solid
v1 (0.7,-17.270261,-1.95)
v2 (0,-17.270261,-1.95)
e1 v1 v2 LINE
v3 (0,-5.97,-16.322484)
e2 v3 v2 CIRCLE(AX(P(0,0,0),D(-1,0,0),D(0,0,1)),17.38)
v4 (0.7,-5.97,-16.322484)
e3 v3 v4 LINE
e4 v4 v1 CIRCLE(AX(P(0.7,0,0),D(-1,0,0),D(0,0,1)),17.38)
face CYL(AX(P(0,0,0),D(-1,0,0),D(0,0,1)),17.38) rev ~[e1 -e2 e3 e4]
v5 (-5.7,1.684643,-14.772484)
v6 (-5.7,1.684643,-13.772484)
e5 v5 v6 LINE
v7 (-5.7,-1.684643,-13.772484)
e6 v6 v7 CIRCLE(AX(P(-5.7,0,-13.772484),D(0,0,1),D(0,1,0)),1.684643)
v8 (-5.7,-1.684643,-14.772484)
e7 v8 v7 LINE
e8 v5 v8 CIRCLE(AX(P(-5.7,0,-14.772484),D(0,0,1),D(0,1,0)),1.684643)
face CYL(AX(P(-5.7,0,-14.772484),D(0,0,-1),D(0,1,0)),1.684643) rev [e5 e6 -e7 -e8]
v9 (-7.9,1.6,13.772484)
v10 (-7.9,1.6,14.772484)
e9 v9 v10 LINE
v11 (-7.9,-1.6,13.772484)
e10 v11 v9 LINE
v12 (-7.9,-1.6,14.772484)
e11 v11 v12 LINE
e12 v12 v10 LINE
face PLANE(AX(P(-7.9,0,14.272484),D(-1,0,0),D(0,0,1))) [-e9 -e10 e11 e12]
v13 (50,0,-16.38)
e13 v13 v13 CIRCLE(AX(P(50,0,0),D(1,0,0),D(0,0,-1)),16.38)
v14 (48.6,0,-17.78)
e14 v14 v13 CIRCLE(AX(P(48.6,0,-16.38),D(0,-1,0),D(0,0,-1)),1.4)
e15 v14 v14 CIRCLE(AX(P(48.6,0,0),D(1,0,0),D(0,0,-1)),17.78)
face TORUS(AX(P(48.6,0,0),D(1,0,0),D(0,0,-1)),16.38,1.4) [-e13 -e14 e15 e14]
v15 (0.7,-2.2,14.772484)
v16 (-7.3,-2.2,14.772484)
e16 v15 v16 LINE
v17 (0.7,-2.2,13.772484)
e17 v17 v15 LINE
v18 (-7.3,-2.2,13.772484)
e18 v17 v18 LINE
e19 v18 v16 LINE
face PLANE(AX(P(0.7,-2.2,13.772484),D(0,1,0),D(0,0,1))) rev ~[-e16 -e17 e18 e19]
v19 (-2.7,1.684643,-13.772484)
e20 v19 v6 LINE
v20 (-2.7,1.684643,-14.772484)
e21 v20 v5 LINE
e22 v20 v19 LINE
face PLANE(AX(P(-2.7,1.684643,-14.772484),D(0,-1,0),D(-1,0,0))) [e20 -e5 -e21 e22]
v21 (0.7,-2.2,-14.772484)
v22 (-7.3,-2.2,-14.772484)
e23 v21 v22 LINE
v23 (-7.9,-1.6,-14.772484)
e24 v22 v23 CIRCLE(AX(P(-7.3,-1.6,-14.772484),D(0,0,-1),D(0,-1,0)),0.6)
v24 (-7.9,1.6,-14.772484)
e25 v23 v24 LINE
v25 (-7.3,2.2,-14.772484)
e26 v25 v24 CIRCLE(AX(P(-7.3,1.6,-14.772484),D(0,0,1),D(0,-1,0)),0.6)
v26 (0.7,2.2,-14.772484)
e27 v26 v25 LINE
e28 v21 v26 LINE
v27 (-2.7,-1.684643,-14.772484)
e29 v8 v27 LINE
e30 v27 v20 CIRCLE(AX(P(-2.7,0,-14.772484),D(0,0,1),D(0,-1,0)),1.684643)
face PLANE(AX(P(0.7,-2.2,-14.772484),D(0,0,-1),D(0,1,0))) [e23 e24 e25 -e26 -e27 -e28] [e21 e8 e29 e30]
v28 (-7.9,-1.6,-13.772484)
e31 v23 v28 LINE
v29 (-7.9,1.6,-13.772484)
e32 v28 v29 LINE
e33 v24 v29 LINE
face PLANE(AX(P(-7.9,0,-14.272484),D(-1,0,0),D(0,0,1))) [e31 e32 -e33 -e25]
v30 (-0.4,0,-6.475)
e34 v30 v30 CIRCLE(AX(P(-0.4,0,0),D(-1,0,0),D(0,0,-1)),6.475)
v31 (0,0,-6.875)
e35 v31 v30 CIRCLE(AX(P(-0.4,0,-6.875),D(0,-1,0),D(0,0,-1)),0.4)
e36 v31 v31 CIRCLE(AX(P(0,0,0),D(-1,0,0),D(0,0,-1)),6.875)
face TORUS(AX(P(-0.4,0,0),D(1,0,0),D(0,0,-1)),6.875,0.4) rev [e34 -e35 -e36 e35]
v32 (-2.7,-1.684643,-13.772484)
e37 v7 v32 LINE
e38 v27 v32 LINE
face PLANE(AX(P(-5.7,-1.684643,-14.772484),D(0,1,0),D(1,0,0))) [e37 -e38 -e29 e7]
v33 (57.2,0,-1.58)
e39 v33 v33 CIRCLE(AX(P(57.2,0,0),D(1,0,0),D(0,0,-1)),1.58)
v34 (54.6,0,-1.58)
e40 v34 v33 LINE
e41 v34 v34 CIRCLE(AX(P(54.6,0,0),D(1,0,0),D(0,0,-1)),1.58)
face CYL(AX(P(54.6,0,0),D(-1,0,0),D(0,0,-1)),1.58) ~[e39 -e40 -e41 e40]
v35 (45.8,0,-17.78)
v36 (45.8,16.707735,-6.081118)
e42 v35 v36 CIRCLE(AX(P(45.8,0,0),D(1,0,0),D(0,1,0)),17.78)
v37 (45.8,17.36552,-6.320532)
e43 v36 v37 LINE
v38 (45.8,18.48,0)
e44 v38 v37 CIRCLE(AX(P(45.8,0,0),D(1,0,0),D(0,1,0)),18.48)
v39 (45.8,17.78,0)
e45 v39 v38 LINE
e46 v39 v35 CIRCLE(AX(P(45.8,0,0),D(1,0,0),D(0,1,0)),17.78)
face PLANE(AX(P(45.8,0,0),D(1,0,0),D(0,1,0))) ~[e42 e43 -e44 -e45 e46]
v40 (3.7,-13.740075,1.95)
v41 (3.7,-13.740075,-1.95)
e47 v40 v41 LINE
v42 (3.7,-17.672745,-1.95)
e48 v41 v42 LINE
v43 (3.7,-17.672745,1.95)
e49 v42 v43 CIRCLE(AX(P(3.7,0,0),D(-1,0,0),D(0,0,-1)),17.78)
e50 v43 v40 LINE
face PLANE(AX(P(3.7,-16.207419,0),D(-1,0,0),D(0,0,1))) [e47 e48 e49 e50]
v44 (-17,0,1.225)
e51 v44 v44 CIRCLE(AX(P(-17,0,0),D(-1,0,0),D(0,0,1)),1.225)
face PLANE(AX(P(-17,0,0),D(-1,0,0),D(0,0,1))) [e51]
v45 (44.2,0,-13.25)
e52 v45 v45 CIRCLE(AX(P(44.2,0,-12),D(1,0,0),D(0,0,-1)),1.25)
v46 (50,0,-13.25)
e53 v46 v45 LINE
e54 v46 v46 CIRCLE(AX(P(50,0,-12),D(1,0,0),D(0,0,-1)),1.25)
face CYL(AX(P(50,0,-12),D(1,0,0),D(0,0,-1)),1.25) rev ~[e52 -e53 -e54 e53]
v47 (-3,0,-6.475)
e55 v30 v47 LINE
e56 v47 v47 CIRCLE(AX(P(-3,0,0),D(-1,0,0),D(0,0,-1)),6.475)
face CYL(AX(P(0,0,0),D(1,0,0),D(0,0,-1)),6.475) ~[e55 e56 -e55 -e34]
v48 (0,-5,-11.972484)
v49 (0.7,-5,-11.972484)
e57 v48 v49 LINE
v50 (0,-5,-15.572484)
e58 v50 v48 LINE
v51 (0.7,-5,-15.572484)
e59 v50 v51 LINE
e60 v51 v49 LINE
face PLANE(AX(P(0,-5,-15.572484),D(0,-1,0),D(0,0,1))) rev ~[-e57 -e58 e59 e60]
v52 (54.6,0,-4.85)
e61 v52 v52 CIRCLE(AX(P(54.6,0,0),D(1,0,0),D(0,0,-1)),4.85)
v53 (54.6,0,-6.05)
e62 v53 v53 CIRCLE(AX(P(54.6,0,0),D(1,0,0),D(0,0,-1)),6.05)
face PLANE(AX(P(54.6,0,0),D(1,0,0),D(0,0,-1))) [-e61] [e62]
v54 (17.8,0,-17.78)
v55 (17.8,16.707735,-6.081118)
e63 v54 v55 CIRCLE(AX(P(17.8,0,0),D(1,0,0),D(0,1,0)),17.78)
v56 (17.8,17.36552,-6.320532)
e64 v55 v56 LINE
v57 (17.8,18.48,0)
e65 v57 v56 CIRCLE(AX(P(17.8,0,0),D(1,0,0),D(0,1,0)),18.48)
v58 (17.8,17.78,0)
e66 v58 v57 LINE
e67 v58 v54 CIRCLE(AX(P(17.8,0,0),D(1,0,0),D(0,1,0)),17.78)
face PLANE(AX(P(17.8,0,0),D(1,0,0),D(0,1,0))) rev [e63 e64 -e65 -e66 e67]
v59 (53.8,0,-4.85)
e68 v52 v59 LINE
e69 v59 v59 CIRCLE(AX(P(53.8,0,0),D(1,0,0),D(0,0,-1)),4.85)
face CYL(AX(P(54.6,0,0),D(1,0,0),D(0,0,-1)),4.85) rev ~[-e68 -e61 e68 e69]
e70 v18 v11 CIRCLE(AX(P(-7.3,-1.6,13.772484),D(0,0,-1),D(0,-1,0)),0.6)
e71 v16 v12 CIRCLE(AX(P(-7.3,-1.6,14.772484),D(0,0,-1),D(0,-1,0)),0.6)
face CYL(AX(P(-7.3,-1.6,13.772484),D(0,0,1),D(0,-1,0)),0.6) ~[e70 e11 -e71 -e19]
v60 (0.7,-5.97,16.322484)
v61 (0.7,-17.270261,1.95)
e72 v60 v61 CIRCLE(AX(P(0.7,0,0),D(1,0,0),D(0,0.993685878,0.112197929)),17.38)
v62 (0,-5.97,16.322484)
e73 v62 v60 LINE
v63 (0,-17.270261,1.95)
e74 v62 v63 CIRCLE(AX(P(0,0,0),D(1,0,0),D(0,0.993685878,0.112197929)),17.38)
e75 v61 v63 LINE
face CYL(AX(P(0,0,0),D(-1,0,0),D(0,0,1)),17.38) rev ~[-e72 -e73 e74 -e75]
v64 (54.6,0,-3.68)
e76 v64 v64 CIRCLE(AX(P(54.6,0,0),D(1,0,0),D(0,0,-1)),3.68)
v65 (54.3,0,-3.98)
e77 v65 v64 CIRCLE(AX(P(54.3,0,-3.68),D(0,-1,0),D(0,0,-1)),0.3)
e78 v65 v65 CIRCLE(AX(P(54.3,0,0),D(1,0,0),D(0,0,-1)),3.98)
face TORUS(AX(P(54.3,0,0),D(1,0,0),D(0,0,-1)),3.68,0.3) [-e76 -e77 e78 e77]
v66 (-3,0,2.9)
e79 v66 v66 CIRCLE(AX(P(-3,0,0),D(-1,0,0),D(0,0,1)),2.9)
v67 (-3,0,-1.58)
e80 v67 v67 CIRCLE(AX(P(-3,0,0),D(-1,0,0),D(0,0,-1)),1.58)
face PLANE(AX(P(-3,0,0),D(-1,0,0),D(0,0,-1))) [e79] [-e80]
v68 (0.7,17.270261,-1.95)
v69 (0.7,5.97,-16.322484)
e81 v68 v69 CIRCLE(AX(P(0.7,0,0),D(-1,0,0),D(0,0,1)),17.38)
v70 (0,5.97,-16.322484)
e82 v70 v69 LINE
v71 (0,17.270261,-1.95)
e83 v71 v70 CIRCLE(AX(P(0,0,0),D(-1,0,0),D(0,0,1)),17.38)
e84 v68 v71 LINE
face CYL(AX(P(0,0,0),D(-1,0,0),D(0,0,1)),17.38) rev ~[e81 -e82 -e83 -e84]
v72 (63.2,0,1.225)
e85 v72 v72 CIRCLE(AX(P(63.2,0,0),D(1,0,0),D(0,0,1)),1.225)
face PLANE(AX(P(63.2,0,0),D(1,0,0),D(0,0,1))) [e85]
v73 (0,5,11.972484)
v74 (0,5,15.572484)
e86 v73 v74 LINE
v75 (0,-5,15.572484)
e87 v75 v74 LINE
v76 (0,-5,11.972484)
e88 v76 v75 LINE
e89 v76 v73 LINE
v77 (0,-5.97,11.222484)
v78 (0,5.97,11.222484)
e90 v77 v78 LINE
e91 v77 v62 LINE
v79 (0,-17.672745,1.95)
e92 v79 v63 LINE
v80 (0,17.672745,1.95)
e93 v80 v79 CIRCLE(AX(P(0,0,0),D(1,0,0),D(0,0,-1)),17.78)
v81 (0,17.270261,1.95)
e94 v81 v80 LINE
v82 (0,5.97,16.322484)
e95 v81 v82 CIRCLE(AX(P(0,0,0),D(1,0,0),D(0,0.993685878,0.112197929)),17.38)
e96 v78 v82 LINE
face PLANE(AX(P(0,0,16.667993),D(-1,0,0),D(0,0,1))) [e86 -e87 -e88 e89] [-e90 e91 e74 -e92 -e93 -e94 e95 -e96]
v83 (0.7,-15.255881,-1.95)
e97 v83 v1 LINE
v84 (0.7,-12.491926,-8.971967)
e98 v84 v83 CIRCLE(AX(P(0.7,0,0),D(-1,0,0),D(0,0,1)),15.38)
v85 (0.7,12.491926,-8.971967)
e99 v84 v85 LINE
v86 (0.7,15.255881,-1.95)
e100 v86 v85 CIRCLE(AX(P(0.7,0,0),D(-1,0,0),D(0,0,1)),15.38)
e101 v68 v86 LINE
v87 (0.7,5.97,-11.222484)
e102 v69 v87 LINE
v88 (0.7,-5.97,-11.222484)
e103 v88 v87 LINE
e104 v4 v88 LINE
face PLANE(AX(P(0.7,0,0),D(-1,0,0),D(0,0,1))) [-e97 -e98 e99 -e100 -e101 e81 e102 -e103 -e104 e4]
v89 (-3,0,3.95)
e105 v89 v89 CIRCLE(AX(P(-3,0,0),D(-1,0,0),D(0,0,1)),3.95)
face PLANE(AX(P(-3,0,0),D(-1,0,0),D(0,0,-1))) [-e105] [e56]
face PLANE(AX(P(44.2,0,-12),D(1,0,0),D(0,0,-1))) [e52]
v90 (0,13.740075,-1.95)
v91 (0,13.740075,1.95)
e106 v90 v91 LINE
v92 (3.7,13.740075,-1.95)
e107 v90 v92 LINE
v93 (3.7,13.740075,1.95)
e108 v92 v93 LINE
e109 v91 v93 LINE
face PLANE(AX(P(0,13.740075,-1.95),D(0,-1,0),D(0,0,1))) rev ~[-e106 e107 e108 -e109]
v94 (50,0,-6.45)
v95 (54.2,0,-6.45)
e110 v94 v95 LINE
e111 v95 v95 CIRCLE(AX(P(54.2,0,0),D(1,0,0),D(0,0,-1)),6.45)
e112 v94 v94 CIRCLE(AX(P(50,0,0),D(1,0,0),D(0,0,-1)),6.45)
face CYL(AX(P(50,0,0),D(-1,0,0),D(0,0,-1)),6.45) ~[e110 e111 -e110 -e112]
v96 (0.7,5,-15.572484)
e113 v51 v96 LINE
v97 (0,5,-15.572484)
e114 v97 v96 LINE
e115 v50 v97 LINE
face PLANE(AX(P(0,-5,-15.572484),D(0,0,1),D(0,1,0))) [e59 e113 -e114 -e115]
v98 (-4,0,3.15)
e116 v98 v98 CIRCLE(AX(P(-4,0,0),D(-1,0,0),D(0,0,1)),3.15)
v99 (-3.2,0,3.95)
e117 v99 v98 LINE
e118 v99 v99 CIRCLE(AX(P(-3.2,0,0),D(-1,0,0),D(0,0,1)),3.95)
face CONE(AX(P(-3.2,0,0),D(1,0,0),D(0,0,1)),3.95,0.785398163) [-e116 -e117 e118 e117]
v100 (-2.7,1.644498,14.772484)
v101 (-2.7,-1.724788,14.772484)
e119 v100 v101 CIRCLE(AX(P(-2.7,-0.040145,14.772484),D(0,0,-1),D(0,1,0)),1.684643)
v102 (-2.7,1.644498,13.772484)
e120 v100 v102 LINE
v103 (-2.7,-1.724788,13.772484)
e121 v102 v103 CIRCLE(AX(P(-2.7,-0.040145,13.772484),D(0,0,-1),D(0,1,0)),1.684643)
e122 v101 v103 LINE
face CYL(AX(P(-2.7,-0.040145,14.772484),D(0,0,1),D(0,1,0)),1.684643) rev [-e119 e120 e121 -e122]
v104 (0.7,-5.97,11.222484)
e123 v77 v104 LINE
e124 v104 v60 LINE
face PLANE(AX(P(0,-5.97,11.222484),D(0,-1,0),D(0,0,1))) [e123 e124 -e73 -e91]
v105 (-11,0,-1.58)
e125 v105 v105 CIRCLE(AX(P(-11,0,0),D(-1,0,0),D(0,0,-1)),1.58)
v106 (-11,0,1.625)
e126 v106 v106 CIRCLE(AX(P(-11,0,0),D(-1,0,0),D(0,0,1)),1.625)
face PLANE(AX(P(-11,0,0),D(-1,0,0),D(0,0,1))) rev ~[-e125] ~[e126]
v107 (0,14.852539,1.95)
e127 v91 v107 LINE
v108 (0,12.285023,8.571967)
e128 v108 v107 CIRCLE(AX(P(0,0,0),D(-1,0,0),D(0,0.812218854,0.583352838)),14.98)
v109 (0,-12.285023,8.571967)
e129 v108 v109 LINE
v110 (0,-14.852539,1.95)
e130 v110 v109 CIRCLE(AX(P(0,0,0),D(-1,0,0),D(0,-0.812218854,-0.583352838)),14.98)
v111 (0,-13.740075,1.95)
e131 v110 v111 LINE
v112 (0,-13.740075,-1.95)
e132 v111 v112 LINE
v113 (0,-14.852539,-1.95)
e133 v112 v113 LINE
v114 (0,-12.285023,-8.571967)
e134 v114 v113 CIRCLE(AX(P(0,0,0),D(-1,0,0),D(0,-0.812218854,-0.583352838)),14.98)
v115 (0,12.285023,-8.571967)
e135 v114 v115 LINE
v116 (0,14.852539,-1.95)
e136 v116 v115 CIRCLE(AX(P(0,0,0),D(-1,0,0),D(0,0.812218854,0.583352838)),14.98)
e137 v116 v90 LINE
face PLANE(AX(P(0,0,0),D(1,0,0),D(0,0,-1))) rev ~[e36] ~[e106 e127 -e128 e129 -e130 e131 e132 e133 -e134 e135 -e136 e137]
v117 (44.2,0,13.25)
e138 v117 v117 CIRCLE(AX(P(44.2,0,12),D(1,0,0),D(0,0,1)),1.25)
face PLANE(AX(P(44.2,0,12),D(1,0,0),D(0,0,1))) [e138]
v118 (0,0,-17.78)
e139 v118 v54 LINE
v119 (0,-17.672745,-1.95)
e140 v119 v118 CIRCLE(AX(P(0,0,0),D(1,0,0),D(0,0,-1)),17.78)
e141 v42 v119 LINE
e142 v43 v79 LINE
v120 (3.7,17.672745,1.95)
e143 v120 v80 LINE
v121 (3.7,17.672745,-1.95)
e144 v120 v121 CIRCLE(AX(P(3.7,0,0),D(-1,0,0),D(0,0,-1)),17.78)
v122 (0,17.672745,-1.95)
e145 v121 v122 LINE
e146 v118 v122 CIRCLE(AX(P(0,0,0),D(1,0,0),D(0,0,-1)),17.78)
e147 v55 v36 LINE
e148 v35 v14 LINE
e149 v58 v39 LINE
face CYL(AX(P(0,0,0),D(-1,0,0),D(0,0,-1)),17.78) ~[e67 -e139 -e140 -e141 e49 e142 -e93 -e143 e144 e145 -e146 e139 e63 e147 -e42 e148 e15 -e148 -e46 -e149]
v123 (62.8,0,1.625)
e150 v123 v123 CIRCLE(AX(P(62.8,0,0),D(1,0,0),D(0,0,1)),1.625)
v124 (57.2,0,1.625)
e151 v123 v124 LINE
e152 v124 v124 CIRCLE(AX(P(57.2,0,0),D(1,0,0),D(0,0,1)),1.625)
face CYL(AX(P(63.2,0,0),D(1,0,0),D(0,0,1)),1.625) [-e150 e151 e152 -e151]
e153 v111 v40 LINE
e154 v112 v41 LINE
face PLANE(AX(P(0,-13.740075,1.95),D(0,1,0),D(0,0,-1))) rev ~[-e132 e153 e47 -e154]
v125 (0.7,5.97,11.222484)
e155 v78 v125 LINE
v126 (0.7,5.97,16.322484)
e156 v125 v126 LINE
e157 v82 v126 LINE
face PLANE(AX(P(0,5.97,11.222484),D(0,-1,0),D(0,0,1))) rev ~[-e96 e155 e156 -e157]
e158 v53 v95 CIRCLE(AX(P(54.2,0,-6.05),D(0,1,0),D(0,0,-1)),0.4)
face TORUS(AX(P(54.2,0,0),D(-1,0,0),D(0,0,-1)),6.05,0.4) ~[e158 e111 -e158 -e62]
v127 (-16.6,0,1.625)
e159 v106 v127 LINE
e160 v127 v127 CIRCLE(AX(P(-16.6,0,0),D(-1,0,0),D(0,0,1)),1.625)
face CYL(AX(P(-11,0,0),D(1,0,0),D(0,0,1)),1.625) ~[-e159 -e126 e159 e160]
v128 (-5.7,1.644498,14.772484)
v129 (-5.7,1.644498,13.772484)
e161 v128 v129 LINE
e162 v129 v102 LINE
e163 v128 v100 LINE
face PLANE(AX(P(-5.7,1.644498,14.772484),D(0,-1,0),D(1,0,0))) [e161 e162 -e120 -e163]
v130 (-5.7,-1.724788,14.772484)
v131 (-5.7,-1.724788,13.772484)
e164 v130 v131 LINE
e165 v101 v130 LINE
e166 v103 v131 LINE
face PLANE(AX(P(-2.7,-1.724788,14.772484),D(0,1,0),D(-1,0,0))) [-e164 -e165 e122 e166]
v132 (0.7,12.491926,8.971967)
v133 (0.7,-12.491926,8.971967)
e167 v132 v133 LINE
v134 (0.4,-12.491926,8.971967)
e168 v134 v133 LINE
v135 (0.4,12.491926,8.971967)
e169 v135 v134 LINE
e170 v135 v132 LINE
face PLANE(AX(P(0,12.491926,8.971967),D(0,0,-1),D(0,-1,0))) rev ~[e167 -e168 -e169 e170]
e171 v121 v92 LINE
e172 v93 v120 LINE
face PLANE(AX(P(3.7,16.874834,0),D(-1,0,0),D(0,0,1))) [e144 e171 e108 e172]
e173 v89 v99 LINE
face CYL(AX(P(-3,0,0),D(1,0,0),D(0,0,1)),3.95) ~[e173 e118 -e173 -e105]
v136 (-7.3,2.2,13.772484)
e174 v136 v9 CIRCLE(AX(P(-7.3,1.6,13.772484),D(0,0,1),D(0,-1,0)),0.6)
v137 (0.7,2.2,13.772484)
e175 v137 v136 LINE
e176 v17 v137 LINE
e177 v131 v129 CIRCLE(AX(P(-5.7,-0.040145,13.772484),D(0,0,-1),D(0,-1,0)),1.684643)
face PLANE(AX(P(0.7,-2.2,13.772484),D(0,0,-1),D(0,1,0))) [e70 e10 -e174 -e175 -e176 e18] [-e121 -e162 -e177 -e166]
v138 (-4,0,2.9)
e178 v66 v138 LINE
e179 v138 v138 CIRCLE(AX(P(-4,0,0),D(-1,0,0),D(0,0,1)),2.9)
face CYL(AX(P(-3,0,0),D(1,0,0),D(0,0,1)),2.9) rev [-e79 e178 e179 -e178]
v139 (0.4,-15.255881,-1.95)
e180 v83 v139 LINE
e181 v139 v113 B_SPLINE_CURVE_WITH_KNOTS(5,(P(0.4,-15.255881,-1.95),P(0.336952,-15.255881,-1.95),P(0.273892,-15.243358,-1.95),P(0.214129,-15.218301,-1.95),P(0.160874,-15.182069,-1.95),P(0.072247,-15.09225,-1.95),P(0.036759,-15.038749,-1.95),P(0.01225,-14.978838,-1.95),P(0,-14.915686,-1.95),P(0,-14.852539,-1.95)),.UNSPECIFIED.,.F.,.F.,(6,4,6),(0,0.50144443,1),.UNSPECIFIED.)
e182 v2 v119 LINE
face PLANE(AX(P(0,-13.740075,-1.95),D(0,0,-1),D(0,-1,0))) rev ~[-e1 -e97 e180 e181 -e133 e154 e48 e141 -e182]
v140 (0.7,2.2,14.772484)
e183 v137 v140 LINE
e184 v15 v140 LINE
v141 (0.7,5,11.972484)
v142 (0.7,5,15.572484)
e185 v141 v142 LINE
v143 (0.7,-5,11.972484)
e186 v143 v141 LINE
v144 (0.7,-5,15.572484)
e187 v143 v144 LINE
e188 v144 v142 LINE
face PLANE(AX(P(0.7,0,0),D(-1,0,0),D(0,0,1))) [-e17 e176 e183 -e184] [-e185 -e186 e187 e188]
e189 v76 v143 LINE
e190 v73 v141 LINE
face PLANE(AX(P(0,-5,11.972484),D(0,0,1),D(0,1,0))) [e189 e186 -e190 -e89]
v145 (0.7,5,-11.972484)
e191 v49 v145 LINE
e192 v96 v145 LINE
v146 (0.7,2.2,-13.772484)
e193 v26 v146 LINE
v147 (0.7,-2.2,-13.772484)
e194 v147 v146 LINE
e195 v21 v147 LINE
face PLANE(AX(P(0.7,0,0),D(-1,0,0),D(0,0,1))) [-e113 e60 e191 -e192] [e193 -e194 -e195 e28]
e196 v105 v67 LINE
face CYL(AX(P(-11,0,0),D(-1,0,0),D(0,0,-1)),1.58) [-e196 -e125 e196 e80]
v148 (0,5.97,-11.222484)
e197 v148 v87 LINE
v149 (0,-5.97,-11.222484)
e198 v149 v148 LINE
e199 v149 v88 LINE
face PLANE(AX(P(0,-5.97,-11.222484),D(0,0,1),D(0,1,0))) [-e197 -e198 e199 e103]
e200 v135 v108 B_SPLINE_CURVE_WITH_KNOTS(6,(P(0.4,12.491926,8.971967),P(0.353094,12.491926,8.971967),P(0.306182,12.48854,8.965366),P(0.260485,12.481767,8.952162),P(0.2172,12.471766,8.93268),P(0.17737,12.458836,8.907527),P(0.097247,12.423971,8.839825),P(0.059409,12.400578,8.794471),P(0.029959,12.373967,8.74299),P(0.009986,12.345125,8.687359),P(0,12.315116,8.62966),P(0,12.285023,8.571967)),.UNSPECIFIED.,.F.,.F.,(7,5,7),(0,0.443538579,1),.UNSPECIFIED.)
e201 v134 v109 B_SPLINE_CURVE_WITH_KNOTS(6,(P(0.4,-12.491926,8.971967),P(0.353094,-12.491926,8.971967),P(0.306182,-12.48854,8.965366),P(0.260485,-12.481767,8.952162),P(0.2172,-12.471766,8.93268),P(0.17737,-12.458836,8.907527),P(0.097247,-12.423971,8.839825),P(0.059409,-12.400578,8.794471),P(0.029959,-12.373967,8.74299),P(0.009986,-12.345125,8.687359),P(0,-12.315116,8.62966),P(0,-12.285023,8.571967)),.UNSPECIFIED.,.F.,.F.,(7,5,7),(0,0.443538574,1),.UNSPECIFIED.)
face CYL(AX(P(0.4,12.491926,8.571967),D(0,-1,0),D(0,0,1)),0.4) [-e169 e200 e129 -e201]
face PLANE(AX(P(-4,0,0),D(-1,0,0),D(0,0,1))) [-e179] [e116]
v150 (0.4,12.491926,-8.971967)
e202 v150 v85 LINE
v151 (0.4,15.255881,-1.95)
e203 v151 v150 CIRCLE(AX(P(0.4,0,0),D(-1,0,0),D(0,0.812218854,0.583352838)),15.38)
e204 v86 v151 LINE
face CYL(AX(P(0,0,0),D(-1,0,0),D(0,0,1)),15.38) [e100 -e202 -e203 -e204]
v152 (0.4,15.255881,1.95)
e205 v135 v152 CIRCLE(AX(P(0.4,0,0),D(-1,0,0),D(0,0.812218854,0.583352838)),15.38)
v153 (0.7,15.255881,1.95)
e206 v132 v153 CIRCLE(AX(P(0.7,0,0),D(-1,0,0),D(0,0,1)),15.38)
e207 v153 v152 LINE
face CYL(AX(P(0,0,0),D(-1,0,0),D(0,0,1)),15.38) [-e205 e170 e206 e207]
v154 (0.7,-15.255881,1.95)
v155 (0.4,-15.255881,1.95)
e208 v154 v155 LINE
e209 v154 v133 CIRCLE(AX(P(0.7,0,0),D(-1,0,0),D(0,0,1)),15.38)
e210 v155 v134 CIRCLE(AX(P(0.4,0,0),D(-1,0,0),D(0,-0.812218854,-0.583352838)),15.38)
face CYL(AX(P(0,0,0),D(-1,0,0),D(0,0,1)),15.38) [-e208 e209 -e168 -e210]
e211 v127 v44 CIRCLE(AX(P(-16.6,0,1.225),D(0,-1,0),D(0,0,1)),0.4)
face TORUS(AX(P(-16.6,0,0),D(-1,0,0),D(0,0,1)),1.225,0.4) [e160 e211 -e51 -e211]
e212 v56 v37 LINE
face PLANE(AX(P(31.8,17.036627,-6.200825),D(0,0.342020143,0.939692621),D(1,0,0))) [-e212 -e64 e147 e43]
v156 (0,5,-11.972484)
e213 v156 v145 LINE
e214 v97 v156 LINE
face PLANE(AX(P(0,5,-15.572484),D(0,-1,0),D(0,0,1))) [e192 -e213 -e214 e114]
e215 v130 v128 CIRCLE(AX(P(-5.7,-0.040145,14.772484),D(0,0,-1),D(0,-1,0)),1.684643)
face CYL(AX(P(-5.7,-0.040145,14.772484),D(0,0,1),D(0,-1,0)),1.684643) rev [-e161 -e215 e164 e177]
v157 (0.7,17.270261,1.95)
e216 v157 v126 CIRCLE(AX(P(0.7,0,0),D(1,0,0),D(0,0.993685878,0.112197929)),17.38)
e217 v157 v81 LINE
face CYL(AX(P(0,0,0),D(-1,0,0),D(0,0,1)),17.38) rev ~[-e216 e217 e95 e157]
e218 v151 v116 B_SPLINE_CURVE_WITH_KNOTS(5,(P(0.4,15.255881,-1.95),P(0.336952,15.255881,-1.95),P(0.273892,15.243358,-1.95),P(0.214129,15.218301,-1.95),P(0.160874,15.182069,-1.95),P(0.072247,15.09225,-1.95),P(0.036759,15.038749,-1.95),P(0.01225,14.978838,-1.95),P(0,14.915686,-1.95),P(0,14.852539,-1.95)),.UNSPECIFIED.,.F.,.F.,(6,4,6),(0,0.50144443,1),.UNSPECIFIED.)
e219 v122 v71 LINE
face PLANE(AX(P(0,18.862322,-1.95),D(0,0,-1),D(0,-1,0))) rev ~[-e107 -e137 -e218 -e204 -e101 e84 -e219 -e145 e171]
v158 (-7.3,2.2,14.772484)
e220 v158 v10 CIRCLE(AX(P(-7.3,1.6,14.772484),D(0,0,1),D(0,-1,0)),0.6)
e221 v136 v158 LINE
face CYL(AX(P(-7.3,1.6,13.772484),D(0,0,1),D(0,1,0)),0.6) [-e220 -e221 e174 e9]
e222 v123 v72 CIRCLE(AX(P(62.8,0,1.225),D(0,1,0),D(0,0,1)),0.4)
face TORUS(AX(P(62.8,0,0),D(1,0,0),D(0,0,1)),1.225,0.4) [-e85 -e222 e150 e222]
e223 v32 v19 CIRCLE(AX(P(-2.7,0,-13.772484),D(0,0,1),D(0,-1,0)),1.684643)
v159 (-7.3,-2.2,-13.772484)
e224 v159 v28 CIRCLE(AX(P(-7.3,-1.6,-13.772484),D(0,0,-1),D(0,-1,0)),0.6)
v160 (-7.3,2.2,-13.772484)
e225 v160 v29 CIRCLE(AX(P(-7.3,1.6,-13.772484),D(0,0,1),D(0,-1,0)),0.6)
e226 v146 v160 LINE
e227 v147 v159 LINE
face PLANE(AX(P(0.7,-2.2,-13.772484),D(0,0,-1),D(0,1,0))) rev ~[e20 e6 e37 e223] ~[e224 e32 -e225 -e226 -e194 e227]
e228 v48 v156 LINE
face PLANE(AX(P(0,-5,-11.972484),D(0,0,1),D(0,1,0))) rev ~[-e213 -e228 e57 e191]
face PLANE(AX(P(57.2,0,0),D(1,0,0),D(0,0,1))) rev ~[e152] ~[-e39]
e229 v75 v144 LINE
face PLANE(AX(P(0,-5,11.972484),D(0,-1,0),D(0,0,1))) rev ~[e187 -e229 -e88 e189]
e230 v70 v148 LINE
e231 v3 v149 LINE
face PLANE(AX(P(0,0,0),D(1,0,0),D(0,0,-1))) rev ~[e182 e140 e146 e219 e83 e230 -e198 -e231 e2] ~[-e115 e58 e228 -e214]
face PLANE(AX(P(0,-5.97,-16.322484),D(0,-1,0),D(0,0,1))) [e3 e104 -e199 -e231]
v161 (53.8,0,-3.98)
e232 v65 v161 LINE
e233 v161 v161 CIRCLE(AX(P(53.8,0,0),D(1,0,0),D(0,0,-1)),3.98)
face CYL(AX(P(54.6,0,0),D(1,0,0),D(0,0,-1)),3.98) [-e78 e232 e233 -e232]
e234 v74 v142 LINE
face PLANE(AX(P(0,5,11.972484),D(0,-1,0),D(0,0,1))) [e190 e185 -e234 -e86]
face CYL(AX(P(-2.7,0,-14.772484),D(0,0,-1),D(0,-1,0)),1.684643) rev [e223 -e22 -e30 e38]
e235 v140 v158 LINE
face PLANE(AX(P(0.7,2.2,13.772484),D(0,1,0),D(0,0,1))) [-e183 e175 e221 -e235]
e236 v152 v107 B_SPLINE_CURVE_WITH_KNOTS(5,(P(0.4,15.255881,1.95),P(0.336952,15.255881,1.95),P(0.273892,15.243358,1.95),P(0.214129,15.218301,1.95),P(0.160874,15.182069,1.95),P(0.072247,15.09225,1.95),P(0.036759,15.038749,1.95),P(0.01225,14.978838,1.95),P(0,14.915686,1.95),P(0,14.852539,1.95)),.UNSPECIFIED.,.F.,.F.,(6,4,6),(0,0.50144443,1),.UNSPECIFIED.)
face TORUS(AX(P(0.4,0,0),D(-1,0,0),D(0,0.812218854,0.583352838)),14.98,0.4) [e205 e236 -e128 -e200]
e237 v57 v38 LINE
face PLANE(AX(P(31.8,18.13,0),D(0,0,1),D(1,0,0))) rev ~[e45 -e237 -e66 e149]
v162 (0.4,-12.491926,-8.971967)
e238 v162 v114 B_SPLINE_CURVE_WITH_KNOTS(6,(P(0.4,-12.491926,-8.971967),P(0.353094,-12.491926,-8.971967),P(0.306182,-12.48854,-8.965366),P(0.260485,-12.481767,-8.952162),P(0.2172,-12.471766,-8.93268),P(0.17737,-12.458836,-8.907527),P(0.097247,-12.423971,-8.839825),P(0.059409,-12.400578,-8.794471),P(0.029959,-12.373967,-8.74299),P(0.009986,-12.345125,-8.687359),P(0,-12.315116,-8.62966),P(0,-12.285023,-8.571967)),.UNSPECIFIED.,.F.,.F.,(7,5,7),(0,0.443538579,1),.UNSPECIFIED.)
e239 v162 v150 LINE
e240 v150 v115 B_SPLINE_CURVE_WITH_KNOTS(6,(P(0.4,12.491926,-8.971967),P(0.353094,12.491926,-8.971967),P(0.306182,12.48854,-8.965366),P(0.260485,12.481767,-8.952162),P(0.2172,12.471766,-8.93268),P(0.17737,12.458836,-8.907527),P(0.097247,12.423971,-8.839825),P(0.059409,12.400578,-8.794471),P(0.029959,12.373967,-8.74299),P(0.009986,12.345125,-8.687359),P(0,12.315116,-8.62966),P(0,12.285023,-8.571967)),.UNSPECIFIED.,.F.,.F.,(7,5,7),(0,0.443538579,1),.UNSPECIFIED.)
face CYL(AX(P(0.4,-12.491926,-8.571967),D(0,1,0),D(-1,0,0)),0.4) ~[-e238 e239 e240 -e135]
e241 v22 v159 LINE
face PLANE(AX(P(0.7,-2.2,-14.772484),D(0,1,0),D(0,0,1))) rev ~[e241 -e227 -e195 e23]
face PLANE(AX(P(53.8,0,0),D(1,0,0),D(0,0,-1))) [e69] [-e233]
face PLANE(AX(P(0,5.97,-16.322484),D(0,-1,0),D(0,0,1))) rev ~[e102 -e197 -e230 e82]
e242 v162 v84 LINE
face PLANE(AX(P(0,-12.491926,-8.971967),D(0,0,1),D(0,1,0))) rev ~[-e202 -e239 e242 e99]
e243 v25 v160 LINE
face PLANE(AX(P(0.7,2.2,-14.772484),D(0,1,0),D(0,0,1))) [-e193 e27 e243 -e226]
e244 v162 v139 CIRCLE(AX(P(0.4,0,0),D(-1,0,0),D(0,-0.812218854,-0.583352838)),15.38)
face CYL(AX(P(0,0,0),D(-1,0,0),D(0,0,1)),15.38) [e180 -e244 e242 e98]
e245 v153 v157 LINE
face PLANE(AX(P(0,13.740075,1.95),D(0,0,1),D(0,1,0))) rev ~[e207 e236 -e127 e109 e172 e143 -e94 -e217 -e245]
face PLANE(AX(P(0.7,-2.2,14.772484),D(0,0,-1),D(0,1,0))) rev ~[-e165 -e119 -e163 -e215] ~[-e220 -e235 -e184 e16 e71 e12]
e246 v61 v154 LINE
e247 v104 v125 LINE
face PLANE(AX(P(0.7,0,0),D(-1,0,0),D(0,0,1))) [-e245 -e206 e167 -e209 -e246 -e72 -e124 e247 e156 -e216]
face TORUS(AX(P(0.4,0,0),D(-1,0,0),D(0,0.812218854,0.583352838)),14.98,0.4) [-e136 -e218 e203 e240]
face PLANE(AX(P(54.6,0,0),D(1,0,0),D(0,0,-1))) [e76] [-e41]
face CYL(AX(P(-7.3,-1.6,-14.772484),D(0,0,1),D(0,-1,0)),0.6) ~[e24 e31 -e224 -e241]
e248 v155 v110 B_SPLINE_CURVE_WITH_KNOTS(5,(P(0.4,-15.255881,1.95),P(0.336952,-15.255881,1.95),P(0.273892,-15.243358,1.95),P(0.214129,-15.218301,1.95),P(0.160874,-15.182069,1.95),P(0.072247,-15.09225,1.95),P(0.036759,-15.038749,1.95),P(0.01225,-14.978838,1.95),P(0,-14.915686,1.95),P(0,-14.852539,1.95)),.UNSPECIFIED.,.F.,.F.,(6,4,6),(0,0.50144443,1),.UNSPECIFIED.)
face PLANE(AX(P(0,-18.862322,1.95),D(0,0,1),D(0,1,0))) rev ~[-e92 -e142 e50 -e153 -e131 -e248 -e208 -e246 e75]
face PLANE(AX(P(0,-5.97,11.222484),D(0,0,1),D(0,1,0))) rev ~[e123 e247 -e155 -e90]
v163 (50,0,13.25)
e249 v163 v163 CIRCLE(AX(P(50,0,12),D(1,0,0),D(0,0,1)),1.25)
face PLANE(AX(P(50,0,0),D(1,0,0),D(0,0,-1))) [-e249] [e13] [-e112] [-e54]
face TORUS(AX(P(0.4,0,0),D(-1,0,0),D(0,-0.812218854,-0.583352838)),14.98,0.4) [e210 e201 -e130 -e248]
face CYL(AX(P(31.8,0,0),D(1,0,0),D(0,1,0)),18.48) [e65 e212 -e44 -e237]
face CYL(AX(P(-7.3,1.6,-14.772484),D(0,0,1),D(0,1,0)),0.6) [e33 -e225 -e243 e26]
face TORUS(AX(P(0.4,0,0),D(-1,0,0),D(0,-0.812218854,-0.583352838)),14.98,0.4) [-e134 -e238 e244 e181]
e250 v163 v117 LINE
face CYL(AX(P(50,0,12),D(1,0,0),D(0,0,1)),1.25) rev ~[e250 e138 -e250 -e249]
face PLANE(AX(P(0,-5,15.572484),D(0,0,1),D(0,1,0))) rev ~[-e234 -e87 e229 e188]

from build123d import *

# Parameters (mm, degrees)
SKETCH1_R       = 17.78
EXTRUDE1_DEPTH  = 50
SKETCH2_R       = 6.45
EXTRUDE2_DEPTH  = 4.6
SKETCH3_R       = 1.58
EXTRUDE3_DEPTH  = 2.6
FILLET1_R       = 1.4
SKETCH4_R       = 6.475
EXTRUDE4_DEPTH  = 3
SKETCH5_R       = 3.95
SKETCH5_R_2     = 2.9
EXTRUDE5_DEPTH  = 1
CHAMFER1_SIZE   = 0.8
EXTRUDE6_START  = 8
SKETCH6_R       = 1.58
EXTRUDE6_DEPTH  = 8
SKETCH7_R       = 4.85
SKETCH7_R_2     = 3.98
EXTRUDE7_DEPTH  = 0.8
FILLET2_R       = 0.3
FILLET3_R       = 0.4
SKETCH8_R       = 17.38
SKETCH8_R_2     = 15.38
EXTRUDE9_DEPTH  = 0.7
FILLET4_R       = 0.4
SKETCH11_W      = 3.9
SKETCH11_H      = 1.342951975
EXTRUDE11_DEPTH = 3.7
EXTRUDE12_START = 0.7
SKETCH13_W      = 5.1
SKETCH13_H      = 11.94
SKETCH13_W_2    = 3.6
SKETCH13_H_2    = 10
EXTRUDE12_DEPTH = 0.7
SKETCH14_W      = 1
SKETCH14_H      = 4.4
EXTRUDE13_DEPTH = 8.6
FILLET5_R       = 0.6
SKETCH17_R      = 1.25
EXTRUDE16_DEPTH = 5.8
SKETCH18_R      = 1.625
EXTRUDE17_DEPTH = 6
EXTRUDE18_START = 6
SKETCH19_R      = 1.625
EXTRUDE18_DEPTH = 6
FILLET6_R       = 0.4
FILLET7_R       = 0.4
SKETCH21_W      = 28
SKETCH21_H      = 0.7
REVOLVE1_ANGLE  = 340
EXTRUDE20_DEPTH = 1
EXTRUDE21_DEPTH = 1


with BuildPart() as part:
    # Sketch1 → Extrude1 (new body)
    with BuildSketch(Plane(origin=(0, 0, 0), x_dir=(0, 0, -1), z_dir=(1, 0, 0))):
        Circle(SKETCH1_R)
    extrude(amount=EXTRUDE1_DEPTH)

    # Sketch2 → Extrude2 (add)
    with BuildSketch(Plane(origin=(50, 0, 0), x_dir=(0, 0, -1), z_dir=(1, 0, 0))):
        Circle(SKETCH2_R)
    extrude(amount=EXTRUDE2_DEPTH)

    # Sketch3 → Extrude3 (add)
    with BuildSketch(Plane(origin=(54.6, 0, 0), x_dir=(0, 0, -1), z_dir=(1, 0, 0))):
        Circle(SKETCH3_R)
    extrude(amount=EXTRUDE3_DEPTH)

    # Fillet1
    fillet1_edges = [part.edges().sort_by_distance(p)[0] for p in [
        (50, 0, 17.78),
    ]]
    fillet(fillet1_edges, radius=FILLET1_R)

    # Sketch4 → Extrude4 (add)
    with BuildSketch(Plane.ZY):
        with Locations(Location((0, 0, 0), (0, 0, 180))):
            Circle(SKETCH4_R)
    extrude(amount=EXTRUDE4_DEPTH)

    # Sketch5 → Extrude5 (add)
    with BuildSketch(Plane.ZY.offset(3)):
        Circle(SKETCH5_R)
        Circle(SKETCH5_R_2, mode=Mode.SUBTRACT)
    extrude(amount=EXTRUDE5_DEPTH)

    # Chamfer1
    chamfer1_edges = [part.edges().sort_by_distance(p)[0] for p in [
        (-4, 0, -3.95),
    ]]
    chamfer(chamfer1_edges, length=CHAMFER1_SIZE)

    # Sketch6 → Extrude6 (add)
    with BuildSketch(Plane.ZY.offset(3).offset(EXTRUDE6_START)):
        with Locations(Location((0, 0, 0), (0, 0, 180))):
            Circle(SKETCH6_R)
    extrude(amount=-EXTRUDE6_DEPTH)

    # Sketch7 → Extrude7 (cut)
    with BuildSketch(Plane(origin=(54.6, 0, 0), x_dir=(0, 0, -1), z_dir=(1, 0, 0))):
        Circle(SKETCH7_R)
        Circle(SKETCH7_R_2, mode=Mode.SUBTRACT)
    extrude(amount=-EXTRUDE7_DEPTH, mode=Mode.SUBTRACT)

    # Fillet2
    fillet2_edges = [part.edges().sort_by_distance(p)[0] for p in [
        (54.6, 0, 3.98),
    ]]
    fillet(fillet2_edges, radius=FILLET2_R)

    # Fillet3
    fillet3_edges = [part.edges().sort_by_distance(p)[0] for p in [
        (54.6, 0, 6.45),
    ]]
    fillet(fillet3_edges, radius=FILLET3_R)

    # Sketch8 → Extrude9 (cut)
    # profile 1 of 3: a face of its own
    with BuildSketch(Plane.ZY):
        Circle(SKETCH8_R)
        Circle(SKETCH8_R_2, mode=Mode.SUBTRACT)
    # profile 2 of 3: a face of its own
    with BuildSketch(Plane.ZY):
        with BuildLine():
            ThreePointArc((-8.971966642, 12.491925976), (-15.38, 0), (-8.971966642, -12.491925976))
            Line((-8.971966642, -12.491925976), (-8.971966642, 12.491925976))
        make_face()
    # profile 3 of 3: a face of its own
    with BuildSketch(Plane.ZY):
        with BuildLine():
            Line((8.971966642, 12.491925976), (8.971966642, -12.491925976))
            ThreePointArc((8.971966642, -12.491925976), (13.684539578, -7.01981314), (15.38, 0))
            ThreePointArc((15.38, 0), (13.684539578, 7.01981314), (8.971966642, 12.491925976))
        make_face()
    extrude(amount=-EXTRUDE9_DEPTH, mode=Mode.SUBTRACT)

    # Fillet4
    fillet4_edges = [part.edges().sort_by_distance(p)[0] for p in [
        (0, 0, 6.475),
        (0, -15.38, 0),
        (0, 0, 8.971966642),
        (0, 15.38, 0),
        (0, 0, -8.971966642),
    ]]
    fillet(fillet4_edges, radius=FILLET4_R)

    # Sketch11 → Extrude11 (cut)
    with BuildSketch(Plane.ZY):
        with BuildLine():
            Line((-1.95, 18.862321877), (-1.95, 14.852538504))
            ThreePointArc((-1.95, 14.852538504), (0, 14.98), (1.95, 14.852538504))
            Line((1.95, 14.852538504), (1.95, 18.862321877))
            Line((1.95, 18.862321877), (-1.95, 18.862321877))
        make_face()
        with BuildLine():
            ThreePointArc((1.95, 14.852538504), (0, 14.98), (-1.95, 14.852538504))
            Line((-1.95, 14.852538504), (-1.95, 13.740074702))
            Line((-1.95, 13.740074702), (1.95, 13.740074702))
            Line((1.95, 13.740074702), (1.95, 14.852538504))
        make_face()
        with BuildLine():
            Line((-1.95, -14.852538504), (-1.95, -17.519369902))
            Line((-1.95, -17.519369902), (1.95, -17.519369902))
            Line((1.95, -17.519369902), (1.95, -14.852538504))
            ThreePointArc((1.95, -14.852538504), (0, -14.98), (-1.95, -14.852538504))
        make_face()
        with BuildLine():
            Line((-1.95, -13.740074702), (-1.95, -14.852538504))
            ThreePointArc((-1.95, -14.852538504), (0, -14.98), (1.95, -14.852538504))
            Line((1.95, -14.852538504), (1.95, -13.740074702))
            Line((1.95, -13.740074702), (-1.95, -13.740074702))
        make_face()
        with Locations((0, -18.19084589)):
            Rectangle(SKETCH11_W, SKETCH11_H)
    extrude(amount=-EXTRUDE11_DEPTH, mode=Mode.SUBTRACT)

    # Sketch13 → Extrude12 (add)
    # profile 1 of 4: a face of its own
    with BuildSketch(Plane.ZY.offset(-0.7).offset(EXTRUDE12_START)):
        with BuildLine():
            Line((16.322484492, 5.97), (16.322484492, -5.97))
            ThreePointArc((16.322484492, -5.97), (17.113579118, -3.031469901), (17.38, 0))
            ThreePointArc((17.38, 0), (17.113579118, 3.031469901), (16.322484492, 5.97))
        make_face()
    # profile 2 of 4: a face of its own
    with BuildSketch(Plane.ZY.offset(-0.7).offset(EXTRUDE12_START)):
        with Locations((13.772484492, 0)):
            Rectangle(SKETCH13_W, SKETCH13_H)
        with Locations((13.772484492, 0)):
            Rectangle(SKETCH13_W_2, SKETCH13_H_2, mode=Mode.SUBTRACT)
    # profile 3 of 4: a face of its own
    with BuildSketch(Plane.ZY.offset(-0.7).offset(EXTRUDE12_START)):
        with Locations((-13.772484492, 0)):
            Rectangle(SKETCH13_W, SKETCH13_H)
        with Locations((-13.772484492, 0)):
            Rectangle(SKETCH13_W_2, SKETCH13_H_2, mode=Mode.SUBTRACT)
    # profile 4 of 4: a face of its own
    with BuildSketch(Plane.ZY.offset(-0.7).offset(EXTRUDE12_START)):
        with BuildLine():
            ThreePointArc((-17.38, 0), (-17.113579118, -3.031469901), (-16.322484492, -5.97))
            Line((-16.322484492, -5.97), (-16.322484492, 5.97))
            ThreePointArc((-16.322484492, 5.97), (-17.113579118, 3.031469901), (-17.38, 0))
        make_face()
    extrude(amount=-EXTRUDE12_DEPTH)

    # Sketch14 → Extrude13 (add)
    with BuildSketch(Plane.ZY.offset(-0.7)):
        with Locations((14.272484492, 0)):
            Rectangle(SKETCH14_W, SKETCH14_H)
        with Locations((-14.272484492, 0)):
            Rectangle(SKETCH14_W, SKETCH14_H)
    extrude(amount=EXTRUDE13_DEPTH)

    # Fillet5
    fillet5_edges = [part.edges().sort_by_distance(p)[0] for p in [
        (-7.9, 2.2, 14.272484492),
        (-7.9, -2.2, 14.272484492),
        (-7.9, 2.2, -14.272484492),
        (-7.9, -2.2, -14.272484492),
    ]]
    fillet(fillet5_edges, radius=FILLET5_R)

    # Sketch17 → Extrude16 (cut)
    with BuildSketch(Plane(origin=(50, 0, 0), x_dir=(0, 0, -1), z_dir=(1, 0, 0))):
        with Locations((12, 0)):
            Circle(SKETCH17_R)
        with Locations(Location((-12, 0, 0), (0, 0, 180))):
            Circle(SKETCH17_R)
    extrude(amount=-EXTRUDE16_DEPTH, mode=Mode.SUBTRACT)

    # Sketch18 → Extrude17 (add)
    with BuildSketch(Plane.ZY.offset(11)):
        Circle(SKETCH18_R)
    extrude(amount=EXTRUDE17_DEPTH)

    # Sketch19 → Extrude18 (add)
    with BuildSketch(Plane(origin=(57.2, 0, 0), x_dir=(0, 0, -1), z_dir=(1, 0, 0)).offset(EXTRUDE18_START)):
        with Locations(Location((0, 0, 0), (0, 0, 180))):
            Circle(SKETCH19_R)
    extrude(amount=-EXTRUDE18_DEPTH)

    # Fillet6
    fillet6_edges = [part.edges().sort_by_distance(p)[0] for p in [
        (63.2, 0, -1.625),
    ]]
    fillet(fillet6_edges, radius=FILLET6_R)

    # Fillet7
    fillet7_edges = [part.edges().sort_by_distance(p)[0] for p in [
        (-17, 0, -1.625),
    ]]
    fillet(fillet7_edges, radius=FILLET7_R)

    # Sketch21 → Revolve1 (revolve)
    with BuildSketch(Plane.XY):
        with Locations((31.8, 18.13)):
            Rectangle(SKETCH21_W, SKETCH21_H)
    revolve(axis=Axis((-19.330744405, 0, 0), (1, 0, 0)), revolution_arc=REVOLVE1_ANGLE)

    # Sketch15 → Extrude20 (cut)
    with BuildSketch(Plane(origin=(0, 0, -14.772484492), x_dir=(-1, 0, 0), z_dir=(0, 0, -1))):
        with BuildLine():
            Line((5.7, -1.684642954), (2.7, -1.684642954))
            ThreePointArc((2.7, -1.684642954), (1.015357046, 0), (2.7, 1.684642954))
            Line((2.7, 1.684642954), (5.7, 1.684642954))
            ThreePointArc((5.7, 1.684642954), (7.384642954, 0), (5.7, -1.684642954))
        make_face()
    extrude(amount=-EXTRUDE20_DEPTH, mode=Mode.SUBTRACT)

    # Sketch22 → Extrude21 (cut)
    with BuildSketch(Plane.XY.offset(14.772484492)):
        with BuildLine():
            Line((-2.7, -1.724787901), (-5.7, -1.724787901))
            ThreePointArc((-5.7, -1.724787901), (-7.384642954, -0.040144947), (-5.7, 1.644498008))
            Line((-5.7, 1.644498008), (-2.7, 1.644498008))
            ThreePointArc((-2.7, 1.644498008), (-1.015357046, -0.040144947), (-2.7, -1.724787901))
        make_face()
    extrude(amount=-EXTRUDE21_DEPTH, mode=Mode.SUBTRACT)


solid = part.part
